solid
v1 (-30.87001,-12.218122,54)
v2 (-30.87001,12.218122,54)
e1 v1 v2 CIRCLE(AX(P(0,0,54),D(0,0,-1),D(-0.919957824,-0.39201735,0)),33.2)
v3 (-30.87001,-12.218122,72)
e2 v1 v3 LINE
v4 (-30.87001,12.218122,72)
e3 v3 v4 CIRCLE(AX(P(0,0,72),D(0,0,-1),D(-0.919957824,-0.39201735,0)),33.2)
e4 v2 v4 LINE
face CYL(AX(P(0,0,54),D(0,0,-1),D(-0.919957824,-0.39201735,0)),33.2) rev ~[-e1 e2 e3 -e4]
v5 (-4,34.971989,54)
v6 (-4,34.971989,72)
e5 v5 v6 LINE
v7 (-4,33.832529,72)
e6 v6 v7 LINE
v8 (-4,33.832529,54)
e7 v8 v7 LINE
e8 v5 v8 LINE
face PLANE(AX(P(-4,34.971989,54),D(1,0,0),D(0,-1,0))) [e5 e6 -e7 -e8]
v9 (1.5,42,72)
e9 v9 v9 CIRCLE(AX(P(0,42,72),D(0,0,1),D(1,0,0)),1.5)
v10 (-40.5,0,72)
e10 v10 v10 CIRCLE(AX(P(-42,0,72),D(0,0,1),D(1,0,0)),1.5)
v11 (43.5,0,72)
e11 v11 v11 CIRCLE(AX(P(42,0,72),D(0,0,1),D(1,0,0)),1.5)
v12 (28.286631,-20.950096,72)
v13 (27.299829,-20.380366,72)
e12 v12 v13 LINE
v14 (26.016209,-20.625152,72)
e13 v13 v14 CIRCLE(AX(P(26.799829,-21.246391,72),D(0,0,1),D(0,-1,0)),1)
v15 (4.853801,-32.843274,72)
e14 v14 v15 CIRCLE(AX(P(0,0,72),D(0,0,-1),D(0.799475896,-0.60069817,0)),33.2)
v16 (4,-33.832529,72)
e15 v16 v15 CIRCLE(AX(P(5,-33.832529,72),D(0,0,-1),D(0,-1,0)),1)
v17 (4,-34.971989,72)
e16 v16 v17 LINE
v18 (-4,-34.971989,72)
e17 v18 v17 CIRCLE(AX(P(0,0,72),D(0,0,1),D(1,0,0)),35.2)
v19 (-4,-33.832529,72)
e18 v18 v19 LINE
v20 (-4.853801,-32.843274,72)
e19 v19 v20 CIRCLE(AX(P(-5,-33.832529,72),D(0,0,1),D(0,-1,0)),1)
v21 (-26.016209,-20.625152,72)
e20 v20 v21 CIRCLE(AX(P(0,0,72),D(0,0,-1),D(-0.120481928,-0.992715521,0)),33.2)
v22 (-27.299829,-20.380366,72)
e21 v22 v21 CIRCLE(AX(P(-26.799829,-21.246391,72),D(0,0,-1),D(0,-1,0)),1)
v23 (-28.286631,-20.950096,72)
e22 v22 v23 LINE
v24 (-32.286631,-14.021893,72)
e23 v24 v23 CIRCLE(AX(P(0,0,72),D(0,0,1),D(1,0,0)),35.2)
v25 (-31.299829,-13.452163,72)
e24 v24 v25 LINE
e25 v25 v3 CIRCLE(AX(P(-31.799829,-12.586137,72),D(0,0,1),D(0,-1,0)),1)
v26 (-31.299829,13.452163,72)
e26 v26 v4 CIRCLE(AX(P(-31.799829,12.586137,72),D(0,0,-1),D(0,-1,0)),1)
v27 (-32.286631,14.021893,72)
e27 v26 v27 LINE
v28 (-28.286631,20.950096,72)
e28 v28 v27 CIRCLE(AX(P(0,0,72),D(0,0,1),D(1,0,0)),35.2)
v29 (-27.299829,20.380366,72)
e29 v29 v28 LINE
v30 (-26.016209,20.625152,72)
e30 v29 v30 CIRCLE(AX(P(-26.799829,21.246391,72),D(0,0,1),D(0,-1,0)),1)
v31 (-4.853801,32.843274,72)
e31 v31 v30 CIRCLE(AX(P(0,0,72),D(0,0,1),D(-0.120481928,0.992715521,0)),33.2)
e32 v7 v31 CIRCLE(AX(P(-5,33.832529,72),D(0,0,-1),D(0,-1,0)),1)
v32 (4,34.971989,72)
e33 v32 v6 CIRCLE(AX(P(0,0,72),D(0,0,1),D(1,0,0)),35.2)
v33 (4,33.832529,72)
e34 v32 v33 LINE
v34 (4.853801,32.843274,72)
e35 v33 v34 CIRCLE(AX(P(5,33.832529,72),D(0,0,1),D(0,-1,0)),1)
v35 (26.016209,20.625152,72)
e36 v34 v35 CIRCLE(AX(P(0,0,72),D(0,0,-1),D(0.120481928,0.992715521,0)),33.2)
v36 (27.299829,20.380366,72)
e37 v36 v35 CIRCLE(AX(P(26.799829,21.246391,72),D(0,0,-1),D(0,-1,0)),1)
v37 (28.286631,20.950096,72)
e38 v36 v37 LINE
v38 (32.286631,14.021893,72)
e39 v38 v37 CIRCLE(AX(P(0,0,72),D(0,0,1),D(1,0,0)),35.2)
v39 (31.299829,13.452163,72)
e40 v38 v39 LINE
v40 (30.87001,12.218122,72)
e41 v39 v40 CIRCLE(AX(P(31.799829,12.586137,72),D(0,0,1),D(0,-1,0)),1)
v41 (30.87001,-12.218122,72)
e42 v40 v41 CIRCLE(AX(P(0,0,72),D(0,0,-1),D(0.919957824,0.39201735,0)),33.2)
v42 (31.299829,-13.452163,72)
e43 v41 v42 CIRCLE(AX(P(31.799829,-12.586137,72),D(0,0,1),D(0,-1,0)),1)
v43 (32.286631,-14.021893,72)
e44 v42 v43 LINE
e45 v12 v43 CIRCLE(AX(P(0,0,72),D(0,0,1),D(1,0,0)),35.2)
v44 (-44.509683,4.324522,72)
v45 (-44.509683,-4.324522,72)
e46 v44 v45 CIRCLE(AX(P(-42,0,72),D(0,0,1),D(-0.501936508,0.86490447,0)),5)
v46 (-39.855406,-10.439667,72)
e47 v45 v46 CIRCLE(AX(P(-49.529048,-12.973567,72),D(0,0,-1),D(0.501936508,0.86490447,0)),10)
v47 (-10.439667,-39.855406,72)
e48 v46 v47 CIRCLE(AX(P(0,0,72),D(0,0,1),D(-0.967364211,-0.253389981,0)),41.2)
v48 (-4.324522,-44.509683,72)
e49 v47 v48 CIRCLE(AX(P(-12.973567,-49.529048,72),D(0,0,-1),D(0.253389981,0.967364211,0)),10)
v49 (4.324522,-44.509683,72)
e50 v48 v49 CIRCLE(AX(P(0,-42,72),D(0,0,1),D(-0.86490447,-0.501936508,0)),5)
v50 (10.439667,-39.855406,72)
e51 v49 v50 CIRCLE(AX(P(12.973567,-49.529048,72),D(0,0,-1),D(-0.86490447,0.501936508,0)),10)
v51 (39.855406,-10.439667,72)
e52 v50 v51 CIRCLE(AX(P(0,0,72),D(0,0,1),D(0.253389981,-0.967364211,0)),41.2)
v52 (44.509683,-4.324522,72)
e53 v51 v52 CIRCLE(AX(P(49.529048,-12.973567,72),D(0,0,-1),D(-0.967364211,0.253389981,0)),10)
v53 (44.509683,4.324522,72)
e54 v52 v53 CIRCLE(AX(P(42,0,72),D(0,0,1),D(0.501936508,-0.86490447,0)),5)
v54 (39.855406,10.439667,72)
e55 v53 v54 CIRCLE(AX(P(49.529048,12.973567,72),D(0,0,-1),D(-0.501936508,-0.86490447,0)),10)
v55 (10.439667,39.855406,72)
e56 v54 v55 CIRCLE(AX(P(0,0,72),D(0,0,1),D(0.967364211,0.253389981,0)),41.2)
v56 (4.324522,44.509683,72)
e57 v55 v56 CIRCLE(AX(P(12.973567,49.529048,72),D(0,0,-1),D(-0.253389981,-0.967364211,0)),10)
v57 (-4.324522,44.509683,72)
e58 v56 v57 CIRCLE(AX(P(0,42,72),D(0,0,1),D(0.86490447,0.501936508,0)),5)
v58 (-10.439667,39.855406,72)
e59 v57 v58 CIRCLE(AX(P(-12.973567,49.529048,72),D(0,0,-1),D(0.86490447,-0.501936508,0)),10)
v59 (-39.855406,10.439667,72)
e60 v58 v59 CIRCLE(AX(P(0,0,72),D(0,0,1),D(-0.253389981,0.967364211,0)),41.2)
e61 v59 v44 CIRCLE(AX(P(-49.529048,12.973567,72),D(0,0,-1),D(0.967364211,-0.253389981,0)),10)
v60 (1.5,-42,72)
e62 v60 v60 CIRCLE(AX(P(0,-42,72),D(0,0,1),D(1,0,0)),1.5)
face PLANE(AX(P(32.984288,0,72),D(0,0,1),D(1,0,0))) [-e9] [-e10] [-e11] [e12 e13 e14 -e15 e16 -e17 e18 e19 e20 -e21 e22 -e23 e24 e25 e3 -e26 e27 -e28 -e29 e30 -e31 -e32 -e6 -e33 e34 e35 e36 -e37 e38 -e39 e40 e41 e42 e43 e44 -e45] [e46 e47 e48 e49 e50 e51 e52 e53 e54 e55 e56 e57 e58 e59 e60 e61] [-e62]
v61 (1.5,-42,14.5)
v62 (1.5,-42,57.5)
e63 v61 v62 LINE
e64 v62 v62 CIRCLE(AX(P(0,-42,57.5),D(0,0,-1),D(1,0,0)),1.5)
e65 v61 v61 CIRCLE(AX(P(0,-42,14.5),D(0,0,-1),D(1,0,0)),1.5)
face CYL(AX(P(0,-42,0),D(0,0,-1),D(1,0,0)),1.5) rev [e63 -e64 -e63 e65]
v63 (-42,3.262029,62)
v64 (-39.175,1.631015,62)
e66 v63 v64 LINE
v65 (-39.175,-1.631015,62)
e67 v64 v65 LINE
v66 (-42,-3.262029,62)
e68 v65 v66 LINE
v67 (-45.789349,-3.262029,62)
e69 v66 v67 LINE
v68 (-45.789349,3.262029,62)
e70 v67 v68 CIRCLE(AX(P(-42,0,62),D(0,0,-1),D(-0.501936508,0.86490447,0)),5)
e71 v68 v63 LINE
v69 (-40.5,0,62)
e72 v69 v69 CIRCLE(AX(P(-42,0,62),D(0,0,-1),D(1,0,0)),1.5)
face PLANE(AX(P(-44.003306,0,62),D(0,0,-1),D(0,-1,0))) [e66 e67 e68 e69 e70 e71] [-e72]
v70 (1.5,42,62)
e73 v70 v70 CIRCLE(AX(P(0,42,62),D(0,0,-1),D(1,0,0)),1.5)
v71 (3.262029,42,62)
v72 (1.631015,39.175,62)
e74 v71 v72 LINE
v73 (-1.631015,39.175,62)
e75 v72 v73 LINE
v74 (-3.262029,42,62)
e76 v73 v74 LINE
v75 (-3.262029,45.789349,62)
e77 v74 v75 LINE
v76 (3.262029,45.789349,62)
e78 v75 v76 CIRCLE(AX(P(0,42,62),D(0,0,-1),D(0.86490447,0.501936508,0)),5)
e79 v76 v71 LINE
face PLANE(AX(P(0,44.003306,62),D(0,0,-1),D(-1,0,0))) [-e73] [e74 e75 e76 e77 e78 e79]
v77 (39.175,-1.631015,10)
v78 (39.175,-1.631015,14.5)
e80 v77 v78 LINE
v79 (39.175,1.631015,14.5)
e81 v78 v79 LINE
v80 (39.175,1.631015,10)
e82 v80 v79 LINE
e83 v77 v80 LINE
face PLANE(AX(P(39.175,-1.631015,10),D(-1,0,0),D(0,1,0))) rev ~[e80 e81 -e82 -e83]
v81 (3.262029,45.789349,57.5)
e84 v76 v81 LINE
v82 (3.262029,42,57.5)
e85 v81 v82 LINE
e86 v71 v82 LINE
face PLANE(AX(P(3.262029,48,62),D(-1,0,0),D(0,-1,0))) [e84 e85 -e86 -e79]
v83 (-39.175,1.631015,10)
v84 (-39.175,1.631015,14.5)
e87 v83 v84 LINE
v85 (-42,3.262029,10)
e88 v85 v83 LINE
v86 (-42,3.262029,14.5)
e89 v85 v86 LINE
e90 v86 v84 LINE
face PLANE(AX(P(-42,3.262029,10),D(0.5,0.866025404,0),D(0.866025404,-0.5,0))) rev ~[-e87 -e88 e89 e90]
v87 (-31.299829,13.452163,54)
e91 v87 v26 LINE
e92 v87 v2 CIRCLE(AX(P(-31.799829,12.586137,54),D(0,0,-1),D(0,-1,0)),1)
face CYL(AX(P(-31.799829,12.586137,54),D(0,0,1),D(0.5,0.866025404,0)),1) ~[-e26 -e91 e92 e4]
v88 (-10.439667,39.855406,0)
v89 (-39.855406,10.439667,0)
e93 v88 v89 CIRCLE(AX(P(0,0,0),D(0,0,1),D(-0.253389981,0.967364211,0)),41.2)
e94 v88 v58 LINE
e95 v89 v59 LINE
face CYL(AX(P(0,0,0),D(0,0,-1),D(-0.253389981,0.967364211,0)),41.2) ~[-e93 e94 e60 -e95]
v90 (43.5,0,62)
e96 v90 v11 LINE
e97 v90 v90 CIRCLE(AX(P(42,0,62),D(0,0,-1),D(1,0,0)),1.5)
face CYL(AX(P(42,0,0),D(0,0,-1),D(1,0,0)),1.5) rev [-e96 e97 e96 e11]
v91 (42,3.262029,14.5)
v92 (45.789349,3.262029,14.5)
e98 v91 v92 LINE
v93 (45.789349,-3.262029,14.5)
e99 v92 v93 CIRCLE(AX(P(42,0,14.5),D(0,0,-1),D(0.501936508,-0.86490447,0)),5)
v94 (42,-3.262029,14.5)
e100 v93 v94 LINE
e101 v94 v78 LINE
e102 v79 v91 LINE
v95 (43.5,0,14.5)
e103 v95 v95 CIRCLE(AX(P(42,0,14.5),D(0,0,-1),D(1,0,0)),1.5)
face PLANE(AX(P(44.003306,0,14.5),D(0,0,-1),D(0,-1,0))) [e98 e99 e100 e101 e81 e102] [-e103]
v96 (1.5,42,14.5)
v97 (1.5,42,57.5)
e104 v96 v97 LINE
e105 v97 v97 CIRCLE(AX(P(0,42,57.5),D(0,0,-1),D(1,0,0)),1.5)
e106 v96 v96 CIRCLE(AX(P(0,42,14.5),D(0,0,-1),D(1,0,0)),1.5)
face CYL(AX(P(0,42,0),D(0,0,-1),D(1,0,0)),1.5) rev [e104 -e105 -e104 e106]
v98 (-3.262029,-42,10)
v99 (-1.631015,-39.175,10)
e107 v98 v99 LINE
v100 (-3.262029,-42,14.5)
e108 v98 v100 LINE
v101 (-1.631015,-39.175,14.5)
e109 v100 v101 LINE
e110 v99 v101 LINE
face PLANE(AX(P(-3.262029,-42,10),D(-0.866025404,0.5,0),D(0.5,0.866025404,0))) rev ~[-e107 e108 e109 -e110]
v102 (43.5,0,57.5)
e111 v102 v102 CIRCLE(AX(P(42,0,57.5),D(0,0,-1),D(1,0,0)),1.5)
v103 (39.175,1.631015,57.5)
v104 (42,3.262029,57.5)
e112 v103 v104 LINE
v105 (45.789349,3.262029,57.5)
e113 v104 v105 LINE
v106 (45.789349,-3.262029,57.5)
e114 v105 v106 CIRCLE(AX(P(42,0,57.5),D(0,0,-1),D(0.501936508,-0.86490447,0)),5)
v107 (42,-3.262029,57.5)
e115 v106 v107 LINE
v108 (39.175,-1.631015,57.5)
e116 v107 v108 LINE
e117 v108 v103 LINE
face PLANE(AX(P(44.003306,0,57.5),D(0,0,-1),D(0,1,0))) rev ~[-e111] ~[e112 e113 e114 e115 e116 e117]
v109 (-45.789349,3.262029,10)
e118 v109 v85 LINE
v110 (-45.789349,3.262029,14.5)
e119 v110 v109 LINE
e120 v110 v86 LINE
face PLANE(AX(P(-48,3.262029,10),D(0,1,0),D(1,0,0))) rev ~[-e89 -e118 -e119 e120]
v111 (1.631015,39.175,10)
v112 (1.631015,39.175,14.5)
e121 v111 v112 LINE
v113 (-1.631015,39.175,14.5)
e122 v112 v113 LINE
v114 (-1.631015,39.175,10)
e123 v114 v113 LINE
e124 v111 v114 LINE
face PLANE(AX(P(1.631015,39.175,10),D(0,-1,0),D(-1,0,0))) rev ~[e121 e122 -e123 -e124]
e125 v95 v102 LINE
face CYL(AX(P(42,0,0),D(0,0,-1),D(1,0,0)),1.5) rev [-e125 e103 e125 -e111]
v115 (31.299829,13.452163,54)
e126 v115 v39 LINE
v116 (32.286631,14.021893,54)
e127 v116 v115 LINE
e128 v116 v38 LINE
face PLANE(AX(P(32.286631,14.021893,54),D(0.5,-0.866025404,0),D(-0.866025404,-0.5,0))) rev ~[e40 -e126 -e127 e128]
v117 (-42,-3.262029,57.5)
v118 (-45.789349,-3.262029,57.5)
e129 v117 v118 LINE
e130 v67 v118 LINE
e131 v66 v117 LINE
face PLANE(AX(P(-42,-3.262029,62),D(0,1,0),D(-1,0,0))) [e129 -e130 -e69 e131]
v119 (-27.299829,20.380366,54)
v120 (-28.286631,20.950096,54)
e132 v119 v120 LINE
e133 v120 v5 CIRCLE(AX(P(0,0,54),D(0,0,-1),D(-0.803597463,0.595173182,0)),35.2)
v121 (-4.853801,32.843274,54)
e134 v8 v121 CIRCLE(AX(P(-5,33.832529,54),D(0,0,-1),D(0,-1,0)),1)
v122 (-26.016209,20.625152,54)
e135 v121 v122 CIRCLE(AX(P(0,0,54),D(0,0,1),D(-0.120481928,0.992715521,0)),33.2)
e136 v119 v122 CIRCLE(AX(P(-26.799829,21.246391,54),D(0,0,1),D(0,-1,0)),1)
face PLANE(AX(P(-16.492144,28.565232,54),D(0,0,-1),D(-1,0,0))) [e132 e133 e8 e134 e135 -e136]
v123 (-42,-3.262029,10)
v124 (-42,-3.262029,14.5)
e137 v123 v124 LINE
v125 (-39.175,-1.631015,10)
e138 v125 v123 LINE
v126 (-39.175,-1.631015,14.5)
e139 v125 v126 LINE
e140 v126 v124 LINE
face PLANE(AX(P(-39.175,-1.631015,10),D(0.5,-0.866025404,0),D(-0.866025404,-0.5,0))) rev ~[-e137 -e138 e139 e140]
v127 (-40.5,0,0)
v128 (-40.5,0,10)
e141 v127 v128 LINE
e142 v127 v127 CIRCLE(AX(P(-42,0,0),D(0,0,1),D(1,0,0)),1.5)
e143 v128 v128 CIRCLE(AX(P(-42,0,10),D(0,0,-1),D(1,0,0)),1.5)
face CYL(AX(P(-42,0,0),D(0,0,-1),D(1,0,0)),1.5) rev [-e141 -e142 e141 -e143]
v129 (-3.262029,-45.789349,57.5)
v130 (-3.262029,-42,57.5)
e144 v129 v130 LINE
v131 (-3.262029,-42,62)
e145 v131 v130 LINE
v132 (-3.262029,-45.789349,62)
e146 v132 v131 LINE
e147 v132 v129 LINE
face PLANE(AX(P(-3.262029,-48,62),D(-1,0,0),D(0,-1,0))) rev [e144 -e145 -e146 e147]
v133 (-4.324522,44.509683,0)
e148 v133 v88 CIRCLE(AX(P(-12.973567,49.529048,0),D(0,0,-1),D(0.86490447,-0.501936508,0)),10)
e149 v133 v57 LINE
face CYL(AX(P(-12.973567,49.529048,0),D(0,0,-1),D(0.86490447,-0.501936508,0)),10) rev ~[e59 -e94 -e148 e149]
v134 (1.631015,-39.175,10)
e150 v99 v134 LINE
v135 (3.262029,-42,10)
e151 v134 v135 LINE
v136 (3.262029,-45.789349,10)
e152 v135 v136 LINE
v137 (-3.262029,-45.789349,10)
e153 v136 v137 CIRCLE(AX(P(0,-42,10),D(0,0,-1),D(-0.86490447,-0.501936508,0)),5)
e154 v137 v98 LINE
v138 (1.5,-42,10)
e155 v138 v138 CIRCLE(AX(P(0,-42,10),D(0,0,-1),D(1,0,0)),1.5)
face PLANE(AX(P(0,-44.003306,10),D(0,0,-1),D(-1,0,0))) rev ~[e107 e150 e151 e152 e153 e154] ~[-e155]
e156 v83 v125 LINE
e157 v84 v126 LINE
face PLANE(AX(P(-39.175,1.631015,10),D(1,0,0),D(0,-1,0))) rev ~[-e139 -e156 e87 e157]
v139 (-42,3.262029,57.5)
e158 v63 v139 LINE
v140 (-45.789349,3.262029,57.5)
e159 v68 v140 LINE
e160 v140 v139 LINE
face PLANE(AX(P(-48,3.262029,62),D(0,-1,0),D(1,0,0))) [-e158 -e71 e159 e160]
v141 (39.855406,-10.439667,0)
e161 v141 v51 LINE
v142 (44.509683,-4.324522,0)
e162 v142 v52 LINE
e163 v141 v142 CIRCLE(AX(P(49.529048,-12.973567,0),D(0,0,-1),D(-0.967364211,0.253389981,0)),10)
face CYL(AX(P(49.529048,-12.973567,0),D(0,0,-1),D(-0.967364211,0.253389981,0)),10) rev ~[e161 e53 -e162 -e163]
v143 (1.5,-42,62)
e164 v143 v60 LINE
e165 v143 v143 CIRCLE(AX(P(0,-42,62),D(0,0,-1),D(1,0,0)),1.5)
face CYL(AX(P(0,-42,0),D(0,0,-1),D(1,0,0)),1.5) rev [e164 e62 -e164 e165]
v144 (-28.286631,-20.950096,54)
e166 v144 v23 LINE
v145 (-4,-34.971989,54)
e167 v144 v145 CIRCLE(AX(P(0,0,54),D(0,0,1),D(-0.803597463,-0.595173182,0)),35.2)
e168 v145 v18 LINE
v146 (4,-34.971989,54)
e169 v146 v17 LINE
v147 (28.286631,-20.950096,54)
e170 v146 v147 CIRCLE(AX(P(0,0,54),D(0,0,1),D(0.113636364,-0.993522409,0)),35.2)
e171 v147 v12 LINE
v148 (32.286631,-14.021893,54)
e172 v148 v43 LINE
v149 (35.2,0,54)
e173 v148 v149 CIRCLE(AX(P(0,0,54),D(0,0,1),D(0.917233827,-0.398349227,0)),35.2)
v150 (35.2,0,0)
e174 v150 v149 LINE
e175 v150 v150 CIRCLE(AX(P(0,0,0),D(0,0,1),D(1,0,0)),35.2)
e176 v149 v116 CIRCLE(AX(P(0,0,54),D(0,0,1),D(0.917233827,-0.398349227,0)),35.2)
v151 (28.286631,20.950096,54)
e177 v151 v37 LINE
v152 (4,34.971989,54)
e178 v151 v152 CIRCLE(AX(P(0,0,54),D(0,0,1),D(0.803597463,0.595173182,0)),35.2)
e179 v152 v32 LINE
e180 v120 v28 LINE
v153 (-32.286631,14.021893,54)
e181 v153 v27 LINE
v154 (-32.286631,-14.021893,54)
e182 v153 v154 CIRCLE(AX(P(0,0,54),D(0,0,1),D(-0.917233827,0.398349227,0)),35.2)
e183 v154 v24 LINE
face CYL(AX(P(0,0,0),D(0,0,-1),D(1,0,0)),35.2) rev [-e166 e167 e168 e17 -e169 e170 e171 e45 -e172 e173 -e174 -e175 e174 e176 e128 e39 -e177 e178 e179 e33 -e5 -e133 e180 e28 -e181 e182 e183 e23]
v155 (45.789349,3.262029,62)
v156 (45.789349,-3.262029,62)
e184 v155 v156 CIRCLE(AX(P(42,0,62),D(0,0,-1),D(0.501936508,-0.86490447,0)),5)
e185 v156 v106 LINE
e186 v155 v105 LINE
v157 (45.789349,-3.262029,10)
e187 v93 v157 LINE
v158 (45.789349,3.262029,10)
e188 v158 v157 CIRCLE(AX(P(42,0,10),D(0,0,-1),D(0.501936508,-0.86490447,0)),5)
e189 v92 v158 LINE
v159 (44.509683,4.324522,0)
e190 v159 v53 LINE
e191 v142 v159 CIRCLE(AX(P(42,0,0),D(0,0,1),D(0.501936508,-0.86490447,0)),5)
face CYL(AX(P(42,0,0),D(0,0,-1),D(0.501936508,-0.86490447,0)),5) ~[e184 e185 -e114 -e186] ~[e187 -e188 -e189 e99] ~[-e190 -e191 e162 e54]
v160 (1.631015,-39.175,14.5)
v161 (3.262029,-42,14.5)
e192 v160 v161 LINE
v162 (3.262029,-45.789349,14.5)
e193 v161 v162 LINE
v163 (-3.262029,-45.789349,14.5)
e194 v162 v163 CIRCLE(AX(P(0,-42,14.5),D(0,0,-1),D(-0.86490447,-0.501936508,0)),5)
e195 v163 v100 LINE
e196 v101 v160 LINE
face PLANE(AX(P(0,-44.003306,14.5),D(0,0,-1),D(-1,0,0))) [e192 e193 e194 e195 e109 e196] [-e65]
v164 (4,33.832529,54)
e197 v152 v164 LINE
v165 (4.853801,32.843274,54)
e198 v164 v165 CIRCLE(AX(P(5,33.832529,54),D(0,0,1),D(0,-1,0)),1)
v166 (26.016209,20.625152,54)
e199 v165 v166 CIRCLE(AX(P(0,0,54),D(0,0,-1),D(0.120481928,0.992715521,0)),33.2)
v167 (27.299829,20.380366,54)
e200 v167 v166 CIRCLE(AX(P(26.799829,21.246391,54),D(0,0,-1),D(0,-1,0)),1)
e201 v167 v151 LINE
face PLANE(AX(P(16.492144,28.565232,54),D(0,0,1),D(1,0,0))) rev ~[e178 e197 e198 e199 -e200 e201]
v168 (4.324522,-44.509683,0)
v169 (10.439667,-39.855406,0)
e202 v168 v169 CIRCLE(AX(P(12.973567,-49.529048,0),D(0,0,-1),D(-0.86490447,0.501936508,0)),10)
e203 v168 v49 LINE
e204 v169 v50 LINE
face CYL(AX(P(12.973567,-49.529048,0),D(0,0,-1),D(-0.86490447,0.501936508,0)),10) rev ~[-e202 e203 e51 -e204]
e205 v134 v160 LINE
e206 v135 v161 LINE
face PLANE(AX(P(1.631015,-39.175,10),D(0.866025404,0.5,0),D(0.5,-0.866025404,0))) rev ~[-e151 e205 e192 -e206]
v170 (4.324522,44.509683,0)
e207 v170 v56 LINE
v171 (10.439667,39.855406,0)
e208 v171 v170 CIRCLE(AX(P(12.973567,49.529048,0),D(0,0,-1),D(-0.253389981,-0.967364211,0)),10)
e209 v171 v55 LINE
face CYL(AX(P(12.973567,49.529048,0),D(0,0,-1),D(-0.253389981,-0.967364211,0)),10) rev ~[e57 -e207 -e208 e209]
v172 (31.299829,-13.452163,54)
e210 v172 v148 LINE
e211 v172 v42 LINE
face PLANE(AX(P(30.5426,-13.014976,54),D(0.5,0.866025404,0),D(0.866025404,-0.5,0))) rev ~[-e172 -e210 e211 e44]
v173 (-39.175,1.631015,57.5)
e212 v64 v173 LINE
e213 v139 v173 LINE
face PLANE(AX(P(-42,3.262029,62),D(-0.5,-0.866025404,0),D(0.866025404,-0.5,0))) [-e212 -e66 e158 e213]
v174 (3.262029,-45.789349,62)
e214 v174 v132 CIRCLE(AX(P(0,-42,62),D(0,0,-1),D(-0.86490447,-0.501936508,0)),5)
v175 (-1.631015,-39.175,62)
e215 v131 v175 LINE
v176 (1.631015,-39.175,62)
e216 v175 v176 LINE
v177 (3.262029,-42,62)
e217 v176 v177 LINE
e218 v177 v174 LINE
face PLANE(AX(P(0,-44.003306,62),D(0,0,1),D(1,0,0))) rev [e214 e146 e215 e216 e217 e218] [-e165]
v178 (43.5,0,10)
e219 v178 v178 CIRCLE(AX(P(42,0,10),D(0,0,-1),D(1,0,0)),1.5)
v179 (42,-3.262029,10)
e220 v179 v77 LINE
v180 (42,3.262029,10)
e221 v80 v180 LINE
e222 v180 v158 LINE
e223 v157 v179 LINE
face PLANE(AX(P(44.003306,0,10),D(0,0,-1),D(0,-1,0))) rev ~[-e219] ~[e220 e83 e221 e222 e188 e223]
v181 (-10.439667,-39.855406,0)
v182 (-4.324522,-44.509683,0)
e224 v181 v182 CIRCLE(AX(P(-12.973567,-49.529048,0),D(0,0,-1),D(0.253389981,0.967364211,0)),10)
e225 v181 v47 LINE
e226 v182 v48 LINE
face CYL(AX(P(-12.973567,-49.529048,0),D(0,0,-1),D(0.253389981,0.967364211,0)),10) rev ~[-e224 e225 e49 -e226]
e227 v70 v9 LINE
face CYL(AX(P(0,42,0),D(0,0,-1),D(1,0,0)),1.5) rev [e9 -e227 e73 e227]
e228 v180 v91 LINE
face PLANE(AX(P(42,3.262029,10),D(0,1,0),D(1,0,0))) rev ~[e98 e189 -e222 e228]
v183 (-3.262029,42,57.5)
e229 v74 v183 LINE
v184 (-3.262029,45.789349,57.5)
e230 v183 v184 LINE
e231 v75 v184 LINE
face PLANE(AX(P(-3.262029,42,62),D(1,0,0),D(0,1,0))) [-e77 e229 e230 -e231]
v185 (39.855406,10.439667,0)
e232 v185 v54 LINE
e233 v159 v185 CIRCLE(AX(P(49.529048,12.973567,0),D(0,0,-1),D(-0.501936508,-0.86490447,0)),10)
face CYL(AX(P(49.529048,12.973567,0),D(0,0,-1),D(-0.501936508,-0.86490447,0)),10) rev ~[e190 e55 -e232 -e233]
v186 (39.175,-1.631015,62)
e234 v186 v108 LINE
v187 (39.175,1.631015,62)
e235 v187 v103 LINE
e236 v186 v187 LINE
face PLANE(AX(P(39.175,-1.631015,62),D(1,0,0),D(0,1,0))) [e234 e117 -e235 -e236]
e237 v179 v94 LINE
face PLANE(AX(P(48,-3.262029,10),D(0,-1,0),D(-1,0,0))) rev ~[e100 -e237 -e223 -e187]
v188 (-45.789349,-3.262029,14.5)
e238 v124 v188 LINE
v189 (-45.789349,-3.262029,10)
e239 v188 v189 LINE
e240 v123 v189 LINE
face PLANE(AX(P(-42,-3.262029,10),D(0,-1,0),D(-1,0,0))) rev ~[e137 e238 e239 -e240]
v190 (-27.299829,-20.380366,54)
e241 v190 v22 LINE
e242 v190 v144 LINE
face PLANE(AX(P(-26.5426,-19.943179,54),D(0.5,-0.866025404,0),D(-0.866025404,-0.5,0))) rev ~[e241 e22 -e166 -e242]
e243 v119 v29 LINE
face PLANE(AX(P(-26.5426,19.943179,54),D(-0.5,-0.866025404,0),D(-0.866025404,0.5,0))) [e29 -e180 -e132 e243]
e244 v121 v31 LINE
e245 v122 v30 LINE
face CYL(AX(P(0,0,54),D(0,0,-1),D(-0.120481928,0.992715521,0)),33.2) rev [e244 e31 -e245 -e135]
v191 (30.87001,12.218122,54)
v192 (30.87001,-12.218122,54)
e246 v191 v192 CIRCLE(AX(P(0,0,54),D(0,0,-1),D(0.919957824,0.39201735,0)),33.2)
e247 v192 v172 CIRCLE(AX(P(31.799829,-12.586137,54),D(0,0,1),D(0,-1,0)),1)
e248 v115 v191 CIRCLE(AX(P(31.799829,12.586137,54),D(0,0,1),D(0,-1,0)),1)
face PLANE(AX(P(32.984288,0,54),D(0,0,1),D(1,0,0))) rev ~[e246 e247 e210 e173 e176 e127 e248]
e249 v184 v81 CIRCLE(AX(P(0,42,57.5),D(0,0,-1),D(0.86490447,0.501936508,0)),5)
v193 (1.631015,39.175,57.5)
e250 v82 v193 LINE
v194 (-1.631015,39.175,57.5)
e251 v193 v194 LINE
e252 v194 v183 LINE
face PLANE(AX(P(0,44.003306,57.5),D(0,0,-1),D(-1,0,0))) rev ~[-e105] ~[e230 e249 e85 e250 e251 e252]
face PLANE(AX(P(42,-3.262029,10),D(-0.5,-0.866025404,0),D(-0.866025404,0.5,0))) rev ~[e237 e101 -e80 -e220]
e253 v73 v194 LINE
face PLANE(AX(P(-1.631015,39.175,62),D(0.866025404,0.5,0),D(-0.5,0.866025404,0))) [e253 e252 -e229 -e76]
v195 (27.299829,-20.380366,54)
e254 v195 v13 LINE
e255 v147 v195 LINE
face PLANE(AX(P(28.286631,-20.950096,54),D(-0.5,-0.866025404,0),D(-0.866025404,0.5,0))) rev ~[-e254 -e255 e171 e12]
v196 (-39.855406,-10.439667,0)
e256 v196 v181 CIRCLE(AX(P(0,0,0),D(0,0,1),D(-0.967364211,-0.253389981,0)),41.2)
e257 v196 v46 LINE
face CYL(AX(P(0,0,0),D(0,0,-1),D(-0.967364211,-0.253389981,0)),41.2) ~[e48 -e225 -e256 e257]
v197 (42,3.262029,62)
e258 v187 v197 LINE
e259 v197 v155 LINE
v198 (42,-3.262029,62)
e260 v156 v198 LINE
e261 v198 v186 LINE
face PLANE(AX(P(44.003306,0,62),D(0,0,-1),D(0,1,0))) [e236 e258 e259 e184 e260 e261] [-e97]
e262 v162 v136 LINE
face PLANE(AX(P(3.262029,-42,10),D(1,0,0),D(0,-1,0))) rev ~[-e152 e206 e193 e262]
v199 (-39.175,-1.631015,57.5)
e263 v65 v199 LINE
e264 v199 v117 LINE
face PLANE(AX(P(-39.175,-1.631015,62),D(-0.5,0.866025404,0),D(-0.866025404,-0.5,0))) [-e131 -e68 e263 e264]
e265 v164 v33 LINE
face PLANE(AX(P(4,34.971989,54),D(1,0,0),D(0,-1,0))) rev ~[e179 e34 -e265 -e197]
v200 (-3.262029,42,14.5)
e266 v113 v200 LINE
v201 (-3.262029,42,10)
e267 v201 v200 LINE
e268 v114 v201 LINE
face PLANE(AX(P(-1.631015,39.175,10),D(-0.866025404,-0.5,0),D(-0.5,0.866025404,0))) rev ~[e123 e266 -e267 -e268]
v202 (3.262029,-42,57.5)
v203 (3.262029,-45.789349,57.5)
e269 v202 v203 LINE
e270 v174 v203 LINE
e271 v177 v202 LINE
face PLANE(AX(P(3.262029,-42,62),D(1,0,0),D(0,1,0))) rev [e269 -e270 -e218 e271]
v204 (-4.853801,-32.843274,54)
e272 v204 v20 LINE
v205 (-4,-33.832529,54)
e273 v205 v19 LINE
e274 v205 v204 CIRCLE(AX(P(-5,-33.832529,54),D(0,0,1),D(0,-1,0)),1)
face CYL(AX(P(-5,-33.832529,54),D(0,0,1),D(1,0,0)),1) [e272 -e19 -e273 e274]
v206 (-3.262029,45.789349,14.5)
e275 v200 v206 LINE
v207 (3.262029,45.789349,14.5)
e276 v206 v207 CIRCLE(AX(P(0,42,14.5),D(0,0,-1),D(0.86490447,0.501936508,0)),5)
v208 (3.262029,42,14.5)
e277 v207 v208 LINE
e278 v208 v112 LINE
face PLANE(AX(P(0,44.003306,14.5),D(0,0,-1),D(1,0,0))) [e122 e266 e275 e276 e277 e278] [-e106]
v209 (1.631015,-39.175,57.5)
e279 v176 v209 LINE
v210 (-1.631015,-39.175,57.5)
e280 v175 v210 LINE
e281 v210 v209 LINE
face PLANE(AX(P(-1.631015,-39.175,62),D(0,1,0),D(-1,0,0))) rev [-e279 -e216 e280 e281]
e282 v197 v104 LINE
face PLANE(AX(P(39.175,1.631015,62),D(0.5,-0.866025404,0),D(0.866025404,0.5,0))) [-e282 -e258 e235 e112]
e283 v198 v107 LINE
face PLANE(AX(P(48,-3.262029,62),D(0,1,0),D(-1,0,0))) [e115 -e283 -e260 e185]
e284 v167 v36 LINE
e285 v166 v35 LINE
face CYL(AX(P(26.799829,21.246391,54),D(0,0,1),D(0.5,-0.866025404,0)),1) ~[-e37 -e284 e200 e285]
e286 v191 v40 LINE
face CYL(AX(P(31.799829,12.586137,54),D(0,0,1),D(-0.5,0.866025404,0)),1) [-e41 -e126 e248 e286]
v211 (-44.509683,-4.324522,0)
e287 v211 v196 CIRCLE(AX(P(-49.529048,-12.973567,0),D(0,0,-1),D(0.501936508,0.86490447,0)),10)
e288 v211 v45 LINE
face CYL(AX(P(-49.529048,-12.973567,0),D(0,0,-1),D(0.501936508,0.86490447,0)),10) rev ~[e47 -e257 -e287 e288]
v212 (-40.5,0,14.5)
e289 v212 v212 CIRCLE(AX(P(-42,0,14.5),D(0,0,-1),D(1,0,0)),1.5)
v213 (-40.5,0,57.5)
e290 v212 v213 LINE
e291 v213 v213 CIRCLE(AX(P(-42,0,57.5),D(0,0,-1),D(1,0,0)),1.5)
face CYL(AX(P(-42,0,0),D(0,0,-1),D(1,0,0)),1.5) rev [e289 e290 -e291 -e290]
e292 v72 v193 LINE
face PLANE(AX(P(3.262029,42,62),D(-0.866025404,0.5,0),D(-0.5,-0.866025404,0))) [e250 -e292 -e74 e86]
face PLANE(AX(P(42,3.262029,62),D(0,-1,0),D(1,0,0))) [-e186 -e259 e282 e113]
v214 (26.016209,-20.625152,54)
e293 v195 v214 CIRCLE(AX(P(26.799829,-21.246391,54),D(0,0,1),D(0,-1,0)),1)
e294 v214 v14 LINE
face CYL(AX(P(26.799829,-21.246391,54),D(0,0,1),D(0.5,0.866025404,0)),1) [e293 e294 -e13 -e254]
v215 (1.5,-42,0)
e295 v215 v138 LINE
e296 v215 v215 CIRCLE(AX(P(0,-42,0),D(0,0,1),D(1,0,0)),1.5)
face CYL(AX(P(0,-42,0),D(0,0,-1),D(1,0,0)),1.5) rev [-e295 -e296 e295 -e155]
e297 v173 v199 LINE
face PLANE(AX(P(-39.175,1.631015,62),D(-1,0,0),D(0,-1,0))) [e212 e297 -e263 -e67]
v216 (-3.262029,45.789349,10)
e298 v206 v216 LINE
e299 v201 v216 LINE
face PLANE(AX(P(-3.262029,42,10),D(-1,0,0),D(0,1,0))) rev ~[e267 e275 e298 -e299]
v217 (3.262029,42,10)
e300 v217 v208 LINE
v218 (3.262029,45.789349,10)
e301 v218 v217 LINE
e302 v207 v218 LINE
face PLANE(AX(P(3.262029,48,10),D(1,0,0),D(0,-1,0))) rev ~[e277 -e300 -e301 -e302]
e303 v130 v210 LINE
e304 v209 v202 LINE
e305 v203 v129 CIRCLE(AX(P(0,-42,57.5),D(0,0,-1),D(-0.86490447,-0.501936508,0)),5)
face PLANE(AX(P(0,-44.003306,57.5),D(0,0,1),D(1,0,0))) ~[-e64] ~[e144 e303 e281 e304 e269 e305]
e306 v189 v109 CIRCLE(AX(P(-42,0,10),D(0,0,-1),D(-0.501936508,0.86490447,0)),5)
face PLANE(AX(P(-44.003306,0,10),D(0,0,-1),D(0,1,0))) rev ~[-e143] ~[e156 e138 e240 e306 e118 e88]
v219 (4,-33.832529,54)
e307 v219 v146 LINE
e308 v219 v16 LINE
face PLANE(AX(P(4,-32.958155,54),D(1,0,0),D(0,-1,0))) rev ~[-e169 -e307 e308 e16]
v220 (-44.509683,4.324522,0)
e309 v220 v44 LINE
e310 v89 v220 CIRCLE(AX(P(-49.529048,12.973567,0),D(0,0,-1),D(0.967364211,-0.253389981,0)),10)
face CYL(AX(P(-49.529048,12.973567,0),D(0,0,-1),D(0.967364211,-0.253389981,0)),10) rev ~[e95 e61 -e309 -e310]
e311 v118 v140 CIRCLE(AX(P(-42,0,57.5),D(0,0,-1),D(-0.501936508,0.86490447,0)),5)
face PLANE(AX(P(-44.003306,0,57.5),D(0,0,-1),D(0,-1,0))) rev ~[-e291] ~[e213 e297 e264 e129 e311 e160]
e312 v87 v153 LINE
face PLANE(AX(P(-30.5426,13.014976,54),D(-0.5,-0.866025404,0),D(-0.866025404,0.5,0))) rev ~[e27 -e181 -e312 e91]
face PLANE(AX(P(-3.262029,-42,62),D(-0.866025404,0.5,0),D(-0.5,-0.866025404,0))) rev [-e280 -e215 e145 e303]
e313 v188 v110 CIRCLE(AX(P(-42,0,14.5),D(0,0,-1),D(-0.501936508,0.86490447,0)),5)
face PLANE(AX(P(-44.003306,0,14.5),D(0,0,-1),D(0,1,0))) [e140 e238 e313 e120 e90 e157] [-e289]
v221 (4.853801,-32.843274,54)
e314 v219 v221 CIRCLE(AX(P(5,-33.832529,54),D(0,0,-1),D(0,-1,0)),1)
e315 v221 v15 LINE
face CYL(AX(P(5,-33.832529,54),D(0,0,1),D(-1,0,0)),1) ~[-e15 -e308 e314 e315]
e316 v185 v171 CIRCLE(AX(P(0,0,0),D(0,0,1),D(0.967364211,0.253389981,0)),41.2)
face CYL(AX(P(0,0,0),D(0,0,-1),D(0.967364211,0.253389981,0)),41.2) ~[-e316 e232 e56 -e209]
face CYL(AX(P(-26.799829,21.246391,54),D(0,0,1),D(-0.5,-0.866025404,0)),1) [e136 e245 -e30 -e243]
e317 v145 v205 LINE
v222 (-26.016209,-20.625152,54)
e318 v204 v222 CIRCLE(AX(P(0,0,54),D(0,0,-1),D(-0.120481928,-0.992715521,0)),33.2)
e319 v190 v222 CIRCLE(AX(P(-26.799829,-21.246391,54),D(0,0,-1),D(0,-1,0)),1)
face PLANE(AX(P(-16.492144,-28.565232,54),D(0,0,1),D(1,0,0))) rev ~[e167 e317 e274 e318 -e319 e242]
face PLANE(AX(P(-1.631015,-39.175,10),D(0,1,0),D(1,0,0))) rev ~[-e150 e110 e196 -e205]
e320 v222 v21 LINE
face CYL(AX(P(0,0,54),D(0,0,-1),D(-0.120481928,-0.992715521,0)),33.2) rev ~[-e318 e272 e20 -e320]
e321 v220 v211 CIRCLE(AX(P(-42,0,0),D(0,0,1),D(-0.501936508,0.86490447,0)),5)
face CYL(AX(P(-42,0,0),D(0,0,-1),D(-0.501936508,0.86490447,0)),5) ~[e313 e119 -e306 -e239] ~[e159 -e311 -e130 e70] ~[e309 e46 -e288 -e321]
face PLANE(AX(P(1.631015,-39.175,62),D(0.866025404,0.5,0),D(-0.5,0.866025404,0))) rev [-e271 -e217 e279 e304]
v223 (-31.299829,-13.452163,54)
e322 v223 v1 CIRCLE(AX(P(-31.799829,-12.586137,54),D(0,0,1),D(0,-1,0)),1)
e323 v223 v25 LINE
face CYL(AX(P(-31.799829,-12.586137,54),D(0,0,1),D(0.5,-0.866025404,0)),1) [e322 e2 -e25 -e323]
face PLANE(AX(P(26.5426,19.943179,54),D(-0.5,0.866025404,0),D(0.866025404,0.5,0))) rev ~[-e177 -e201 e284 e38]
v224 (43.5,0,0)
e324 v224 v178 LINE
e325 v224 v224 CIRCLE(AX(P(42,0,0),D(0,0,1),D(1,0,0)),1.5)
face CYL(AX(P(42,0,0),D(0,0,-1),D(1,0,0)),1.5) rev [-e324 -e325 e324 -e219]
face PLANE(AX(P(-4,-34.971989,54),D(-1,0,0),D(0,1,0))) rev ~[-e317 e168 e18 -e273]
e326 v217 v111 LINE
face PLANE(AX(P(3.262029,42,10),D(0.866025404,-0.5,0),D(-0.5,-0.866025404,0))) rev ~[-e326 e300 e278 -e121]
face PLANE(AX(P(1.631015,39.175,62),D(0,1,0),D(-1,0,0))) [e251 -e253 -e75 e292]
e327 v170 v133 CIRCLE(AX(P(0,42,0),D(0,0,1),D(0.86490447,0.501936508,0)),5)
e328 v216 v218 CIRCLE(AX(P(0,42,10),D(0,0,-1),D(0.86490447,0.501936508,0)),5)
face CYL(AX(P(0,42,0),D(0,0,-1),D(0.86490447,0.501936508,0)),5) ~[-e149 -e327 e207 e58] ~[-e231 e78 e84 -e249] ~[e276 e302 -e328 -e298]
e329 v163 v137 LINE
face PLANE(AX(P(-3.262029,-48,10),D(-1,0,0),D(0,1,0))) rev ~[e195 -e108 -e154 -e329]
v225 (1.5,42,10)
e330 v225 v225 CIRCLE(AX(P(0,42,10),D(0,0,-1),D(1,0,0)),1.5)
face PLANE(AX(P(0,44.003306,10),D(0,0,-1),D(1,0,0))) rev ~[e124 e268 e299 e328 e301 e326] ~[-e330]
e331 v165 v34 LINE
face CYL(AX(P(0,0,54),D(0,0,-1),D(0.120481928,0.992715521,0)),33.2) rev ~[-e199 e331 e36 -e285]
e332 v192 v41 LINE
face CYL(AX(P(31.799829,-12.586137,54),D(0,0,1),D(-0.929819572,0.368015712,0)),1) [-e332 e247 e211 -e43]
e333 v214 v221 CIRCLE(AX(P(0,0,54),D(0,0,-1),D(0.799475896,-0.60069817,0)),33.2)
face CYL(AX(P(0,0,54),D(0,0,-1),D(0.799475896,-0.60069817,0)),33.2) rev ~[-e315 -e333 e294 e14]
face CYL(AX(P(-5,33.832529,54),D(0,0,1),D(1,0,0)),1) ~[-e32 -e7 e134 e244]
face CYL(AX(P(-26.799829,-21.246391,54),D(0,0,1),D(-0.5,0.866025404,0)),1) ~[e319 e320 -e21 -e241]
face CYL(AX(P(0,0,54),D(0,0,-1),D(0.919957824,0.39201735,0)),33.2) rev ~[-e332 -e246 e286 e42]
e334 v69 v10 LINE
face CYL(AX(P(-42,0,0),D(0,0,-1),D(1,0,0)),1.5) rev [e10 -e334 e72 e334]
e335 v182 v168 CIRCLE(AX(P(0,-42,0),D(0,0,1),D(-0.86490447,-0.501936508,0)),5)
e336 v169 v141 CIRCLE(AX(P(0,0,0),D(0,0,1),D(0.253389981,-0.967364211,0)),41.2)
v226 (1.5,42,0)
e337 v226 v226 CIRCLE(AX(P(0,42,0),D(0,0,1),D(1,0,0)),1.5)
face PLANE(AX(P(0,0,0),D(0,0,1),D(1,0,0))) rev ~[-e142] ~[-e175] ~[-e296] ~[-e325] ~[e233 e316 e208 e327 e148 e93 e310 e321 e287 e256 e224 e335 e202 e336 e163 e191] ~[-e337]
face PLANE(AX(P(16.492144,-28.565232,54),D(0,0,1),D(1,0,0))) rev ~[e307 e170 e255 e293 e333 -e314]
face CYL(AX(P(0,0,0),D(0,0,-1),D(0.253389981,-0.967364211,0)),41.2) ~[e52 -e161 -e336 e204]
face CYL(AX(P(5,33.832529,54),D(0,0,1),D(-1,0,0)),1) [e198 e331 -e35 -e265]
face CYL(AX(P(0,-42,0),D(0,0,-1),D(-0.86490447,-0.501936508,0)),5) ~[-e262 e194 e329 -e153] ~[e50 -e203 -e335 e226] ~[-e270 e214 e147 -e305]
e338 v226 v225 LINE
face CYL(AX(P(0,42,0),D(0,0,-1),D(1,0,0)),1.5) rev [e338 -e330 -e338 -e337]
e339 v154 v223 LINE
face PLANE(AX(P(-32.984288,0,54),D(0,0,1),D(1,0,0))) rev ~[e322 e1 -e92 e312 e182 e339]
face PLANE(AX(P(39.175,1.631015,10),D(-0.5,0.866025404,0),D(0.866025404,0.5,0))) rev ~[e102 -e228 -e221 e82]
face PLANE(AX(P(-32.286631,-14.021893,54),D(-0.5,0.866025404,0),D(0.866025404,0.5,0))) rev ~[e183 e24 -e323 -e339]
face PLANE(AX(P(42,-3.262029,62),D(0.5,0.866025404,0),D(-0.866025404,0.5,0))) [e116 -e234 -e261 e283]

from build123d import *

# Parameters (mm, degrees)
IZIM1_R                     = 35.2
IZIM1_R_2                   = 1.5
Y_KSEKLIK_EKSTR_ZYON1_DEPTH = 72
Y_KSEKLIK_EKSTR_ZYON2_START = -18
Y_KSEKLIK_EKSTR_ZYON2_DEPTH = 18
KES_EKSTR_ZYON1_DEPTH       = 4.5
DAIRESEL_KAPLAMA1_COUNT     = 4
AYNALAMA1_COPY_1_DEPTH      = 4.5
AYNALAMA1_COPY_2_DEPTH      = 4.5
AYNALAMA1_COPY_3_DEPTH      = 4.5
RADYUS1_R                   = 1


with BuildPart() as part:
    # Çizim1 → Yükseklik-Ekstrüzyon1 (new body)
    with BuildSketch(Plane.XY):
        with BuildLine():
            ThreePointArc((-39.855405506, -10.439667234), (-29.132799385, -29.132799385), (-10.439667234, -39.855405506))
            ThreePointArc((-10.439667234, -39.855405506), (-6.917154276, -41.571669638), (-4.324522349, -44.50968254))
            ThreePointArc((-4.324522349, -44.50968254), (0, -47), (4.324522349, -44.50968254))
            ThreePointArc((4.324522349, -44.50968254), (6.917154276, -41.571669638), (10.439667234, -39.855405506))
            ThreePointArc((10.439667234, -39.855405506), (29.132799385, -29.132799385), (39.855405506, -10.439667234))
            ThreePointArc((39.855405506, -10.439667234), (41.571669638, -6.917154276), (44.50968254, -4.324522349))
            ThreePointArc((44.50968254, -4.324522349), (47, 0), (44.50968254, 4.324522349))
            ThreePointArc((44.50968254, 4.324522349), (41.571669638, 6.917154276), (39.855405506, 10.439667234))
            ThreePointArc((39.855405506, 10.439667234), (29.132799385, 29.132799385), (10.439667234, 39.855405506))
            ThreePointArc((10.439667234, 39.855405506), (6.917154276, 41.571669638), (4.324522349, 44.50968254))
            ThreePointArc((4.324522349, 44.50968254), (0, 47), (-4.324522349, 44.50968254))
            ThreePointArc((-4.324522349, 44.50968254), (-6.917154276, 41.571669638), (-10.439667234, 39.855405506))
            ThreePointArc((-10.439667234, 39.855405506), (-29.132799385, 29.132799385), (-39.855405506, 10.439667234))
            ThreePointArc((-39.855405506, 10.439667234), (-41.571669638, 6.917154276), (-44.50968254, 4.324522349))
            ThreePointArc((-44.50968254, 4.324522349), (-47, 0), (-44.50968254, -4.324522349))
            ThreePointArc((-44.50968254, -4.324522349), (-41.571669638, -6.917154276), (-39.855405506, -10.439667234))
        make_face()
        Circle(IZIM1_R, mode=Mode.SUBTRACT)
        with Locations((-42, 0)):
            Circle(IZIM1_R_2, mode=Mode.SUBTRACT)
        with Locations((0, 42)):
            Circle(IZIM1_R_2, mode=Mode.SUBTRACT)
        with Locations((42, 0)):
            Circle(IZIM1_R_2, mode=Mode.SUBTRACT)
        with Locations((0, -42)):
            Circle(IZIM1_R_2, mode=Mode.SUBTRACT)
    extrude(amount=Y_KSEKLIK_EKSTR_ZYON1_DEPTH)

    # Çizim2 → Yükseklik-Ekstrüzyon2 (add)
    with BuildSketch(Plane.XY.offset(72).offset(Y_KSEKLIK_EKSTR_ZYON2_START)):
        with BuildLine():
            Line((-4, 34.971988791), (-4, 32.958155288))
            ThreePointArc((-4, 32.958155288), (-16.6, 28.752043406), (-26.542599741, 19.943179259))
            Line((-26.542599741, 19.943179259), (-28.286630714, 20.950096011))
            ThreePointArc((-28.286630714, 20.950096011), (-17.6, 30.484094213), (-4, 34.971988791))
        make_face()
        with BuildLine():
            Line((4, 34.971988791), (4, 32.958155288))
            ThreePointArc((4, 32.958155288), (16.6, 28.752043406), (26.542599741, 19.943179259))
            Line((26.542599741, 19.943179259), (28.286630714, 20.950096011))
            ThreePointArc((28.286630714, 20.950096011), (17.6, 30.484094213), (4, 34.971988791))
        make_face()
        with BuildLine():
            Line((32.286630714, 14.02189278), (30.542599741, 13.014976029))
            ThreePointArc((30.542599741, 13.014976029), (33.2, 0), (30.542599741, -13.014976029))
            Line((30.542599741, -13.014976029), (32.286630714, -14.02189278))
            ThreePointArc((32.286630714, -14.02189278), (35.2, 0), (32.286630714, 14.02189278))
        make_face()
        with BuildLine():
            Line((28.286630714, -20.950096011), (26.542599741, -19.943179259))
            ThreePointArc((26.542599741, -19.943179259), (16.6, -28.752043406), (4, -32.958155288))
            Line((4, -32.958155288), (4, -34.971988791))
            ThreePointArc((4, -34.971988791), (17.6, -30.484094213), (28.286630714, -20.950096011))
        make_face()
        with BuildLine():
            Line((-4, -34.971988791), (-4, -32.958155288))
            ThreePointArc((-4, -32.958155288), (-16.6, -28.752043406), (-26.542599741, -19.943179259))
            Line((-26.542599741, -19.943179259), (-28.286630714, -20.950096011))
            ThreePointArc((-28.286630714, -20.950096011), (-17.6, -30.484094213), (-4, -34.971988791))
        make_face()
        with BuildLine():
            Line((-32.286630714, -14.02189278), (-30.542599741, -13.014976029))
            ThreePointArc((-30.542599741, -13.014976029), (-33.2, 0), (-30.542599741, 13.014976029))
            Line((-30.542599741, 13.014976029), (-32.286630714, 14.02189278))
            ThreePointArc((-32.286630714, 14.02189278), (-35.2, 0), (-32.286630714, -14.02189278))
        make_face()
    extrude(amount=Y_KSEKLIK_EKSTR_ZYON2_DEPTH)

    # Çizim3 → Kes-Ekstrüzyon1 (cut)
    with BuildSketch(Plane(origin=(0, 0, 10), x_dir=(-1, 0, 0), z_dir=(0, 0, -1))):
        Polygon((-3.262029021, -42), (-3.262029021, -48), (3.262029021, -48), (3.262029021, -42), (1.63101451, -39.175), (-1.63101451, -39.175), align=None)
    kes_ekstr_zyon1 = extrude(amount=-KES_EKSTR_ZYON1_DEPTH, mode=Mode.SUBTRACT)

    # Dairesel Kaplama1: Kes-Ekstrüzyon1 ×4 about axis
    dairesel_kaplama1_axis = Axis((0, 0, 0), (0, 0, 1))
    for i in range(1, DAIRESEL_KAPLAMA1_COUNT):
        add(kes_ekstr_zyon1.rotate(dairesel_kaplama1_axis, i * 360 / DAIRESEL_KAPLAMA1_COUNT), mode=Mode.SUBTRACT)

    # Aynalama1: Kes-Ekstrüzyon1 across plane
    add(kes_ekstr_zyon1.mirror(Plane(origin=(0, 0, 36), x_dir=(1, 0, 0), z_dir=(0, 0, -1))), mode=Mode.SUBTRACT)

    # Aynalama1 copy 1 sketch → Aynalama1 copy 1 (cut)
    with BuildSketch(Plane(origin=(0, 0, 62), x_dir=(0, -1, 0), z_dir=(0, 0, 1))):
        Polygon((-3.262029021, 42), (-3.262029021, 48), (3.262029021, 48), (3.262029021, 42), (1.63101451, 39.175), (-1.63101451, 39.175), align=None)
    extrude(amount=-AYNALAMA1_COPY_1_DEPTH, mode=Mode.SUBTRACT)

    # Aynalama1 copy 2 sketch → Aynalama1 copy 2 (cut)
    with BuildSketch(Plane.XY.offset(62)):
        Polygon((-3.262029021, 42), (-3.262029021, 48), (3.262029021, 48), (3.262029021, 42), (1.63101451, 39.175), (-1.63101451, 39.175), align=None)
    extrude(amount=-AYNALAMA1_COPY_2_DEPTH, mode=Mode.SUBTRACT)

    # Aynalama1 copy 3 sketch → Aynalama1 copy 3 (cut)
    with BuildSketch(Plane(origin=(0, 0, 62), x_dir=(0, 1, 0), z_dir=(0, 0, 1))):
        Polygon((-3.262029021, 42), (-3.262029021, 48), (3.262029021, 48), (3.262029021, 42), (1.63101451, 39.175), (-1.63101451, 39.175), align=None)
    extrude(amount=-AYNALAMA1_COPY_3_DEPTH, mode=Mode.SUBTRACT)

    # Radyus1
    radyus1_edges = [part.edges().sort_by_distance(p)[0] for p in [
        (4, -32.958155288, 63),
        (26.542599741, -19.943179259, 63),
        (-26.542599741, -19.943179259, 63),
        (-4, -32.958155288, 63),
        (-30.542599741, 13.014976029, 63),
        (-30.542599741, -13.014976029, 63),
        (26.542599741, 19.943179259, 63),
        (4, 32.958155288, 63),
        (-4, 32.958155288, 63),
        (-26.542599741, 19.943179259, 63),
        (30.542599741, -13.014976029, 63),
        (30.542599741, 13.014976029, 63),
    ]]
    fillet(radyus1_edges, radius=RADYUS1_R)


solid = part.part
